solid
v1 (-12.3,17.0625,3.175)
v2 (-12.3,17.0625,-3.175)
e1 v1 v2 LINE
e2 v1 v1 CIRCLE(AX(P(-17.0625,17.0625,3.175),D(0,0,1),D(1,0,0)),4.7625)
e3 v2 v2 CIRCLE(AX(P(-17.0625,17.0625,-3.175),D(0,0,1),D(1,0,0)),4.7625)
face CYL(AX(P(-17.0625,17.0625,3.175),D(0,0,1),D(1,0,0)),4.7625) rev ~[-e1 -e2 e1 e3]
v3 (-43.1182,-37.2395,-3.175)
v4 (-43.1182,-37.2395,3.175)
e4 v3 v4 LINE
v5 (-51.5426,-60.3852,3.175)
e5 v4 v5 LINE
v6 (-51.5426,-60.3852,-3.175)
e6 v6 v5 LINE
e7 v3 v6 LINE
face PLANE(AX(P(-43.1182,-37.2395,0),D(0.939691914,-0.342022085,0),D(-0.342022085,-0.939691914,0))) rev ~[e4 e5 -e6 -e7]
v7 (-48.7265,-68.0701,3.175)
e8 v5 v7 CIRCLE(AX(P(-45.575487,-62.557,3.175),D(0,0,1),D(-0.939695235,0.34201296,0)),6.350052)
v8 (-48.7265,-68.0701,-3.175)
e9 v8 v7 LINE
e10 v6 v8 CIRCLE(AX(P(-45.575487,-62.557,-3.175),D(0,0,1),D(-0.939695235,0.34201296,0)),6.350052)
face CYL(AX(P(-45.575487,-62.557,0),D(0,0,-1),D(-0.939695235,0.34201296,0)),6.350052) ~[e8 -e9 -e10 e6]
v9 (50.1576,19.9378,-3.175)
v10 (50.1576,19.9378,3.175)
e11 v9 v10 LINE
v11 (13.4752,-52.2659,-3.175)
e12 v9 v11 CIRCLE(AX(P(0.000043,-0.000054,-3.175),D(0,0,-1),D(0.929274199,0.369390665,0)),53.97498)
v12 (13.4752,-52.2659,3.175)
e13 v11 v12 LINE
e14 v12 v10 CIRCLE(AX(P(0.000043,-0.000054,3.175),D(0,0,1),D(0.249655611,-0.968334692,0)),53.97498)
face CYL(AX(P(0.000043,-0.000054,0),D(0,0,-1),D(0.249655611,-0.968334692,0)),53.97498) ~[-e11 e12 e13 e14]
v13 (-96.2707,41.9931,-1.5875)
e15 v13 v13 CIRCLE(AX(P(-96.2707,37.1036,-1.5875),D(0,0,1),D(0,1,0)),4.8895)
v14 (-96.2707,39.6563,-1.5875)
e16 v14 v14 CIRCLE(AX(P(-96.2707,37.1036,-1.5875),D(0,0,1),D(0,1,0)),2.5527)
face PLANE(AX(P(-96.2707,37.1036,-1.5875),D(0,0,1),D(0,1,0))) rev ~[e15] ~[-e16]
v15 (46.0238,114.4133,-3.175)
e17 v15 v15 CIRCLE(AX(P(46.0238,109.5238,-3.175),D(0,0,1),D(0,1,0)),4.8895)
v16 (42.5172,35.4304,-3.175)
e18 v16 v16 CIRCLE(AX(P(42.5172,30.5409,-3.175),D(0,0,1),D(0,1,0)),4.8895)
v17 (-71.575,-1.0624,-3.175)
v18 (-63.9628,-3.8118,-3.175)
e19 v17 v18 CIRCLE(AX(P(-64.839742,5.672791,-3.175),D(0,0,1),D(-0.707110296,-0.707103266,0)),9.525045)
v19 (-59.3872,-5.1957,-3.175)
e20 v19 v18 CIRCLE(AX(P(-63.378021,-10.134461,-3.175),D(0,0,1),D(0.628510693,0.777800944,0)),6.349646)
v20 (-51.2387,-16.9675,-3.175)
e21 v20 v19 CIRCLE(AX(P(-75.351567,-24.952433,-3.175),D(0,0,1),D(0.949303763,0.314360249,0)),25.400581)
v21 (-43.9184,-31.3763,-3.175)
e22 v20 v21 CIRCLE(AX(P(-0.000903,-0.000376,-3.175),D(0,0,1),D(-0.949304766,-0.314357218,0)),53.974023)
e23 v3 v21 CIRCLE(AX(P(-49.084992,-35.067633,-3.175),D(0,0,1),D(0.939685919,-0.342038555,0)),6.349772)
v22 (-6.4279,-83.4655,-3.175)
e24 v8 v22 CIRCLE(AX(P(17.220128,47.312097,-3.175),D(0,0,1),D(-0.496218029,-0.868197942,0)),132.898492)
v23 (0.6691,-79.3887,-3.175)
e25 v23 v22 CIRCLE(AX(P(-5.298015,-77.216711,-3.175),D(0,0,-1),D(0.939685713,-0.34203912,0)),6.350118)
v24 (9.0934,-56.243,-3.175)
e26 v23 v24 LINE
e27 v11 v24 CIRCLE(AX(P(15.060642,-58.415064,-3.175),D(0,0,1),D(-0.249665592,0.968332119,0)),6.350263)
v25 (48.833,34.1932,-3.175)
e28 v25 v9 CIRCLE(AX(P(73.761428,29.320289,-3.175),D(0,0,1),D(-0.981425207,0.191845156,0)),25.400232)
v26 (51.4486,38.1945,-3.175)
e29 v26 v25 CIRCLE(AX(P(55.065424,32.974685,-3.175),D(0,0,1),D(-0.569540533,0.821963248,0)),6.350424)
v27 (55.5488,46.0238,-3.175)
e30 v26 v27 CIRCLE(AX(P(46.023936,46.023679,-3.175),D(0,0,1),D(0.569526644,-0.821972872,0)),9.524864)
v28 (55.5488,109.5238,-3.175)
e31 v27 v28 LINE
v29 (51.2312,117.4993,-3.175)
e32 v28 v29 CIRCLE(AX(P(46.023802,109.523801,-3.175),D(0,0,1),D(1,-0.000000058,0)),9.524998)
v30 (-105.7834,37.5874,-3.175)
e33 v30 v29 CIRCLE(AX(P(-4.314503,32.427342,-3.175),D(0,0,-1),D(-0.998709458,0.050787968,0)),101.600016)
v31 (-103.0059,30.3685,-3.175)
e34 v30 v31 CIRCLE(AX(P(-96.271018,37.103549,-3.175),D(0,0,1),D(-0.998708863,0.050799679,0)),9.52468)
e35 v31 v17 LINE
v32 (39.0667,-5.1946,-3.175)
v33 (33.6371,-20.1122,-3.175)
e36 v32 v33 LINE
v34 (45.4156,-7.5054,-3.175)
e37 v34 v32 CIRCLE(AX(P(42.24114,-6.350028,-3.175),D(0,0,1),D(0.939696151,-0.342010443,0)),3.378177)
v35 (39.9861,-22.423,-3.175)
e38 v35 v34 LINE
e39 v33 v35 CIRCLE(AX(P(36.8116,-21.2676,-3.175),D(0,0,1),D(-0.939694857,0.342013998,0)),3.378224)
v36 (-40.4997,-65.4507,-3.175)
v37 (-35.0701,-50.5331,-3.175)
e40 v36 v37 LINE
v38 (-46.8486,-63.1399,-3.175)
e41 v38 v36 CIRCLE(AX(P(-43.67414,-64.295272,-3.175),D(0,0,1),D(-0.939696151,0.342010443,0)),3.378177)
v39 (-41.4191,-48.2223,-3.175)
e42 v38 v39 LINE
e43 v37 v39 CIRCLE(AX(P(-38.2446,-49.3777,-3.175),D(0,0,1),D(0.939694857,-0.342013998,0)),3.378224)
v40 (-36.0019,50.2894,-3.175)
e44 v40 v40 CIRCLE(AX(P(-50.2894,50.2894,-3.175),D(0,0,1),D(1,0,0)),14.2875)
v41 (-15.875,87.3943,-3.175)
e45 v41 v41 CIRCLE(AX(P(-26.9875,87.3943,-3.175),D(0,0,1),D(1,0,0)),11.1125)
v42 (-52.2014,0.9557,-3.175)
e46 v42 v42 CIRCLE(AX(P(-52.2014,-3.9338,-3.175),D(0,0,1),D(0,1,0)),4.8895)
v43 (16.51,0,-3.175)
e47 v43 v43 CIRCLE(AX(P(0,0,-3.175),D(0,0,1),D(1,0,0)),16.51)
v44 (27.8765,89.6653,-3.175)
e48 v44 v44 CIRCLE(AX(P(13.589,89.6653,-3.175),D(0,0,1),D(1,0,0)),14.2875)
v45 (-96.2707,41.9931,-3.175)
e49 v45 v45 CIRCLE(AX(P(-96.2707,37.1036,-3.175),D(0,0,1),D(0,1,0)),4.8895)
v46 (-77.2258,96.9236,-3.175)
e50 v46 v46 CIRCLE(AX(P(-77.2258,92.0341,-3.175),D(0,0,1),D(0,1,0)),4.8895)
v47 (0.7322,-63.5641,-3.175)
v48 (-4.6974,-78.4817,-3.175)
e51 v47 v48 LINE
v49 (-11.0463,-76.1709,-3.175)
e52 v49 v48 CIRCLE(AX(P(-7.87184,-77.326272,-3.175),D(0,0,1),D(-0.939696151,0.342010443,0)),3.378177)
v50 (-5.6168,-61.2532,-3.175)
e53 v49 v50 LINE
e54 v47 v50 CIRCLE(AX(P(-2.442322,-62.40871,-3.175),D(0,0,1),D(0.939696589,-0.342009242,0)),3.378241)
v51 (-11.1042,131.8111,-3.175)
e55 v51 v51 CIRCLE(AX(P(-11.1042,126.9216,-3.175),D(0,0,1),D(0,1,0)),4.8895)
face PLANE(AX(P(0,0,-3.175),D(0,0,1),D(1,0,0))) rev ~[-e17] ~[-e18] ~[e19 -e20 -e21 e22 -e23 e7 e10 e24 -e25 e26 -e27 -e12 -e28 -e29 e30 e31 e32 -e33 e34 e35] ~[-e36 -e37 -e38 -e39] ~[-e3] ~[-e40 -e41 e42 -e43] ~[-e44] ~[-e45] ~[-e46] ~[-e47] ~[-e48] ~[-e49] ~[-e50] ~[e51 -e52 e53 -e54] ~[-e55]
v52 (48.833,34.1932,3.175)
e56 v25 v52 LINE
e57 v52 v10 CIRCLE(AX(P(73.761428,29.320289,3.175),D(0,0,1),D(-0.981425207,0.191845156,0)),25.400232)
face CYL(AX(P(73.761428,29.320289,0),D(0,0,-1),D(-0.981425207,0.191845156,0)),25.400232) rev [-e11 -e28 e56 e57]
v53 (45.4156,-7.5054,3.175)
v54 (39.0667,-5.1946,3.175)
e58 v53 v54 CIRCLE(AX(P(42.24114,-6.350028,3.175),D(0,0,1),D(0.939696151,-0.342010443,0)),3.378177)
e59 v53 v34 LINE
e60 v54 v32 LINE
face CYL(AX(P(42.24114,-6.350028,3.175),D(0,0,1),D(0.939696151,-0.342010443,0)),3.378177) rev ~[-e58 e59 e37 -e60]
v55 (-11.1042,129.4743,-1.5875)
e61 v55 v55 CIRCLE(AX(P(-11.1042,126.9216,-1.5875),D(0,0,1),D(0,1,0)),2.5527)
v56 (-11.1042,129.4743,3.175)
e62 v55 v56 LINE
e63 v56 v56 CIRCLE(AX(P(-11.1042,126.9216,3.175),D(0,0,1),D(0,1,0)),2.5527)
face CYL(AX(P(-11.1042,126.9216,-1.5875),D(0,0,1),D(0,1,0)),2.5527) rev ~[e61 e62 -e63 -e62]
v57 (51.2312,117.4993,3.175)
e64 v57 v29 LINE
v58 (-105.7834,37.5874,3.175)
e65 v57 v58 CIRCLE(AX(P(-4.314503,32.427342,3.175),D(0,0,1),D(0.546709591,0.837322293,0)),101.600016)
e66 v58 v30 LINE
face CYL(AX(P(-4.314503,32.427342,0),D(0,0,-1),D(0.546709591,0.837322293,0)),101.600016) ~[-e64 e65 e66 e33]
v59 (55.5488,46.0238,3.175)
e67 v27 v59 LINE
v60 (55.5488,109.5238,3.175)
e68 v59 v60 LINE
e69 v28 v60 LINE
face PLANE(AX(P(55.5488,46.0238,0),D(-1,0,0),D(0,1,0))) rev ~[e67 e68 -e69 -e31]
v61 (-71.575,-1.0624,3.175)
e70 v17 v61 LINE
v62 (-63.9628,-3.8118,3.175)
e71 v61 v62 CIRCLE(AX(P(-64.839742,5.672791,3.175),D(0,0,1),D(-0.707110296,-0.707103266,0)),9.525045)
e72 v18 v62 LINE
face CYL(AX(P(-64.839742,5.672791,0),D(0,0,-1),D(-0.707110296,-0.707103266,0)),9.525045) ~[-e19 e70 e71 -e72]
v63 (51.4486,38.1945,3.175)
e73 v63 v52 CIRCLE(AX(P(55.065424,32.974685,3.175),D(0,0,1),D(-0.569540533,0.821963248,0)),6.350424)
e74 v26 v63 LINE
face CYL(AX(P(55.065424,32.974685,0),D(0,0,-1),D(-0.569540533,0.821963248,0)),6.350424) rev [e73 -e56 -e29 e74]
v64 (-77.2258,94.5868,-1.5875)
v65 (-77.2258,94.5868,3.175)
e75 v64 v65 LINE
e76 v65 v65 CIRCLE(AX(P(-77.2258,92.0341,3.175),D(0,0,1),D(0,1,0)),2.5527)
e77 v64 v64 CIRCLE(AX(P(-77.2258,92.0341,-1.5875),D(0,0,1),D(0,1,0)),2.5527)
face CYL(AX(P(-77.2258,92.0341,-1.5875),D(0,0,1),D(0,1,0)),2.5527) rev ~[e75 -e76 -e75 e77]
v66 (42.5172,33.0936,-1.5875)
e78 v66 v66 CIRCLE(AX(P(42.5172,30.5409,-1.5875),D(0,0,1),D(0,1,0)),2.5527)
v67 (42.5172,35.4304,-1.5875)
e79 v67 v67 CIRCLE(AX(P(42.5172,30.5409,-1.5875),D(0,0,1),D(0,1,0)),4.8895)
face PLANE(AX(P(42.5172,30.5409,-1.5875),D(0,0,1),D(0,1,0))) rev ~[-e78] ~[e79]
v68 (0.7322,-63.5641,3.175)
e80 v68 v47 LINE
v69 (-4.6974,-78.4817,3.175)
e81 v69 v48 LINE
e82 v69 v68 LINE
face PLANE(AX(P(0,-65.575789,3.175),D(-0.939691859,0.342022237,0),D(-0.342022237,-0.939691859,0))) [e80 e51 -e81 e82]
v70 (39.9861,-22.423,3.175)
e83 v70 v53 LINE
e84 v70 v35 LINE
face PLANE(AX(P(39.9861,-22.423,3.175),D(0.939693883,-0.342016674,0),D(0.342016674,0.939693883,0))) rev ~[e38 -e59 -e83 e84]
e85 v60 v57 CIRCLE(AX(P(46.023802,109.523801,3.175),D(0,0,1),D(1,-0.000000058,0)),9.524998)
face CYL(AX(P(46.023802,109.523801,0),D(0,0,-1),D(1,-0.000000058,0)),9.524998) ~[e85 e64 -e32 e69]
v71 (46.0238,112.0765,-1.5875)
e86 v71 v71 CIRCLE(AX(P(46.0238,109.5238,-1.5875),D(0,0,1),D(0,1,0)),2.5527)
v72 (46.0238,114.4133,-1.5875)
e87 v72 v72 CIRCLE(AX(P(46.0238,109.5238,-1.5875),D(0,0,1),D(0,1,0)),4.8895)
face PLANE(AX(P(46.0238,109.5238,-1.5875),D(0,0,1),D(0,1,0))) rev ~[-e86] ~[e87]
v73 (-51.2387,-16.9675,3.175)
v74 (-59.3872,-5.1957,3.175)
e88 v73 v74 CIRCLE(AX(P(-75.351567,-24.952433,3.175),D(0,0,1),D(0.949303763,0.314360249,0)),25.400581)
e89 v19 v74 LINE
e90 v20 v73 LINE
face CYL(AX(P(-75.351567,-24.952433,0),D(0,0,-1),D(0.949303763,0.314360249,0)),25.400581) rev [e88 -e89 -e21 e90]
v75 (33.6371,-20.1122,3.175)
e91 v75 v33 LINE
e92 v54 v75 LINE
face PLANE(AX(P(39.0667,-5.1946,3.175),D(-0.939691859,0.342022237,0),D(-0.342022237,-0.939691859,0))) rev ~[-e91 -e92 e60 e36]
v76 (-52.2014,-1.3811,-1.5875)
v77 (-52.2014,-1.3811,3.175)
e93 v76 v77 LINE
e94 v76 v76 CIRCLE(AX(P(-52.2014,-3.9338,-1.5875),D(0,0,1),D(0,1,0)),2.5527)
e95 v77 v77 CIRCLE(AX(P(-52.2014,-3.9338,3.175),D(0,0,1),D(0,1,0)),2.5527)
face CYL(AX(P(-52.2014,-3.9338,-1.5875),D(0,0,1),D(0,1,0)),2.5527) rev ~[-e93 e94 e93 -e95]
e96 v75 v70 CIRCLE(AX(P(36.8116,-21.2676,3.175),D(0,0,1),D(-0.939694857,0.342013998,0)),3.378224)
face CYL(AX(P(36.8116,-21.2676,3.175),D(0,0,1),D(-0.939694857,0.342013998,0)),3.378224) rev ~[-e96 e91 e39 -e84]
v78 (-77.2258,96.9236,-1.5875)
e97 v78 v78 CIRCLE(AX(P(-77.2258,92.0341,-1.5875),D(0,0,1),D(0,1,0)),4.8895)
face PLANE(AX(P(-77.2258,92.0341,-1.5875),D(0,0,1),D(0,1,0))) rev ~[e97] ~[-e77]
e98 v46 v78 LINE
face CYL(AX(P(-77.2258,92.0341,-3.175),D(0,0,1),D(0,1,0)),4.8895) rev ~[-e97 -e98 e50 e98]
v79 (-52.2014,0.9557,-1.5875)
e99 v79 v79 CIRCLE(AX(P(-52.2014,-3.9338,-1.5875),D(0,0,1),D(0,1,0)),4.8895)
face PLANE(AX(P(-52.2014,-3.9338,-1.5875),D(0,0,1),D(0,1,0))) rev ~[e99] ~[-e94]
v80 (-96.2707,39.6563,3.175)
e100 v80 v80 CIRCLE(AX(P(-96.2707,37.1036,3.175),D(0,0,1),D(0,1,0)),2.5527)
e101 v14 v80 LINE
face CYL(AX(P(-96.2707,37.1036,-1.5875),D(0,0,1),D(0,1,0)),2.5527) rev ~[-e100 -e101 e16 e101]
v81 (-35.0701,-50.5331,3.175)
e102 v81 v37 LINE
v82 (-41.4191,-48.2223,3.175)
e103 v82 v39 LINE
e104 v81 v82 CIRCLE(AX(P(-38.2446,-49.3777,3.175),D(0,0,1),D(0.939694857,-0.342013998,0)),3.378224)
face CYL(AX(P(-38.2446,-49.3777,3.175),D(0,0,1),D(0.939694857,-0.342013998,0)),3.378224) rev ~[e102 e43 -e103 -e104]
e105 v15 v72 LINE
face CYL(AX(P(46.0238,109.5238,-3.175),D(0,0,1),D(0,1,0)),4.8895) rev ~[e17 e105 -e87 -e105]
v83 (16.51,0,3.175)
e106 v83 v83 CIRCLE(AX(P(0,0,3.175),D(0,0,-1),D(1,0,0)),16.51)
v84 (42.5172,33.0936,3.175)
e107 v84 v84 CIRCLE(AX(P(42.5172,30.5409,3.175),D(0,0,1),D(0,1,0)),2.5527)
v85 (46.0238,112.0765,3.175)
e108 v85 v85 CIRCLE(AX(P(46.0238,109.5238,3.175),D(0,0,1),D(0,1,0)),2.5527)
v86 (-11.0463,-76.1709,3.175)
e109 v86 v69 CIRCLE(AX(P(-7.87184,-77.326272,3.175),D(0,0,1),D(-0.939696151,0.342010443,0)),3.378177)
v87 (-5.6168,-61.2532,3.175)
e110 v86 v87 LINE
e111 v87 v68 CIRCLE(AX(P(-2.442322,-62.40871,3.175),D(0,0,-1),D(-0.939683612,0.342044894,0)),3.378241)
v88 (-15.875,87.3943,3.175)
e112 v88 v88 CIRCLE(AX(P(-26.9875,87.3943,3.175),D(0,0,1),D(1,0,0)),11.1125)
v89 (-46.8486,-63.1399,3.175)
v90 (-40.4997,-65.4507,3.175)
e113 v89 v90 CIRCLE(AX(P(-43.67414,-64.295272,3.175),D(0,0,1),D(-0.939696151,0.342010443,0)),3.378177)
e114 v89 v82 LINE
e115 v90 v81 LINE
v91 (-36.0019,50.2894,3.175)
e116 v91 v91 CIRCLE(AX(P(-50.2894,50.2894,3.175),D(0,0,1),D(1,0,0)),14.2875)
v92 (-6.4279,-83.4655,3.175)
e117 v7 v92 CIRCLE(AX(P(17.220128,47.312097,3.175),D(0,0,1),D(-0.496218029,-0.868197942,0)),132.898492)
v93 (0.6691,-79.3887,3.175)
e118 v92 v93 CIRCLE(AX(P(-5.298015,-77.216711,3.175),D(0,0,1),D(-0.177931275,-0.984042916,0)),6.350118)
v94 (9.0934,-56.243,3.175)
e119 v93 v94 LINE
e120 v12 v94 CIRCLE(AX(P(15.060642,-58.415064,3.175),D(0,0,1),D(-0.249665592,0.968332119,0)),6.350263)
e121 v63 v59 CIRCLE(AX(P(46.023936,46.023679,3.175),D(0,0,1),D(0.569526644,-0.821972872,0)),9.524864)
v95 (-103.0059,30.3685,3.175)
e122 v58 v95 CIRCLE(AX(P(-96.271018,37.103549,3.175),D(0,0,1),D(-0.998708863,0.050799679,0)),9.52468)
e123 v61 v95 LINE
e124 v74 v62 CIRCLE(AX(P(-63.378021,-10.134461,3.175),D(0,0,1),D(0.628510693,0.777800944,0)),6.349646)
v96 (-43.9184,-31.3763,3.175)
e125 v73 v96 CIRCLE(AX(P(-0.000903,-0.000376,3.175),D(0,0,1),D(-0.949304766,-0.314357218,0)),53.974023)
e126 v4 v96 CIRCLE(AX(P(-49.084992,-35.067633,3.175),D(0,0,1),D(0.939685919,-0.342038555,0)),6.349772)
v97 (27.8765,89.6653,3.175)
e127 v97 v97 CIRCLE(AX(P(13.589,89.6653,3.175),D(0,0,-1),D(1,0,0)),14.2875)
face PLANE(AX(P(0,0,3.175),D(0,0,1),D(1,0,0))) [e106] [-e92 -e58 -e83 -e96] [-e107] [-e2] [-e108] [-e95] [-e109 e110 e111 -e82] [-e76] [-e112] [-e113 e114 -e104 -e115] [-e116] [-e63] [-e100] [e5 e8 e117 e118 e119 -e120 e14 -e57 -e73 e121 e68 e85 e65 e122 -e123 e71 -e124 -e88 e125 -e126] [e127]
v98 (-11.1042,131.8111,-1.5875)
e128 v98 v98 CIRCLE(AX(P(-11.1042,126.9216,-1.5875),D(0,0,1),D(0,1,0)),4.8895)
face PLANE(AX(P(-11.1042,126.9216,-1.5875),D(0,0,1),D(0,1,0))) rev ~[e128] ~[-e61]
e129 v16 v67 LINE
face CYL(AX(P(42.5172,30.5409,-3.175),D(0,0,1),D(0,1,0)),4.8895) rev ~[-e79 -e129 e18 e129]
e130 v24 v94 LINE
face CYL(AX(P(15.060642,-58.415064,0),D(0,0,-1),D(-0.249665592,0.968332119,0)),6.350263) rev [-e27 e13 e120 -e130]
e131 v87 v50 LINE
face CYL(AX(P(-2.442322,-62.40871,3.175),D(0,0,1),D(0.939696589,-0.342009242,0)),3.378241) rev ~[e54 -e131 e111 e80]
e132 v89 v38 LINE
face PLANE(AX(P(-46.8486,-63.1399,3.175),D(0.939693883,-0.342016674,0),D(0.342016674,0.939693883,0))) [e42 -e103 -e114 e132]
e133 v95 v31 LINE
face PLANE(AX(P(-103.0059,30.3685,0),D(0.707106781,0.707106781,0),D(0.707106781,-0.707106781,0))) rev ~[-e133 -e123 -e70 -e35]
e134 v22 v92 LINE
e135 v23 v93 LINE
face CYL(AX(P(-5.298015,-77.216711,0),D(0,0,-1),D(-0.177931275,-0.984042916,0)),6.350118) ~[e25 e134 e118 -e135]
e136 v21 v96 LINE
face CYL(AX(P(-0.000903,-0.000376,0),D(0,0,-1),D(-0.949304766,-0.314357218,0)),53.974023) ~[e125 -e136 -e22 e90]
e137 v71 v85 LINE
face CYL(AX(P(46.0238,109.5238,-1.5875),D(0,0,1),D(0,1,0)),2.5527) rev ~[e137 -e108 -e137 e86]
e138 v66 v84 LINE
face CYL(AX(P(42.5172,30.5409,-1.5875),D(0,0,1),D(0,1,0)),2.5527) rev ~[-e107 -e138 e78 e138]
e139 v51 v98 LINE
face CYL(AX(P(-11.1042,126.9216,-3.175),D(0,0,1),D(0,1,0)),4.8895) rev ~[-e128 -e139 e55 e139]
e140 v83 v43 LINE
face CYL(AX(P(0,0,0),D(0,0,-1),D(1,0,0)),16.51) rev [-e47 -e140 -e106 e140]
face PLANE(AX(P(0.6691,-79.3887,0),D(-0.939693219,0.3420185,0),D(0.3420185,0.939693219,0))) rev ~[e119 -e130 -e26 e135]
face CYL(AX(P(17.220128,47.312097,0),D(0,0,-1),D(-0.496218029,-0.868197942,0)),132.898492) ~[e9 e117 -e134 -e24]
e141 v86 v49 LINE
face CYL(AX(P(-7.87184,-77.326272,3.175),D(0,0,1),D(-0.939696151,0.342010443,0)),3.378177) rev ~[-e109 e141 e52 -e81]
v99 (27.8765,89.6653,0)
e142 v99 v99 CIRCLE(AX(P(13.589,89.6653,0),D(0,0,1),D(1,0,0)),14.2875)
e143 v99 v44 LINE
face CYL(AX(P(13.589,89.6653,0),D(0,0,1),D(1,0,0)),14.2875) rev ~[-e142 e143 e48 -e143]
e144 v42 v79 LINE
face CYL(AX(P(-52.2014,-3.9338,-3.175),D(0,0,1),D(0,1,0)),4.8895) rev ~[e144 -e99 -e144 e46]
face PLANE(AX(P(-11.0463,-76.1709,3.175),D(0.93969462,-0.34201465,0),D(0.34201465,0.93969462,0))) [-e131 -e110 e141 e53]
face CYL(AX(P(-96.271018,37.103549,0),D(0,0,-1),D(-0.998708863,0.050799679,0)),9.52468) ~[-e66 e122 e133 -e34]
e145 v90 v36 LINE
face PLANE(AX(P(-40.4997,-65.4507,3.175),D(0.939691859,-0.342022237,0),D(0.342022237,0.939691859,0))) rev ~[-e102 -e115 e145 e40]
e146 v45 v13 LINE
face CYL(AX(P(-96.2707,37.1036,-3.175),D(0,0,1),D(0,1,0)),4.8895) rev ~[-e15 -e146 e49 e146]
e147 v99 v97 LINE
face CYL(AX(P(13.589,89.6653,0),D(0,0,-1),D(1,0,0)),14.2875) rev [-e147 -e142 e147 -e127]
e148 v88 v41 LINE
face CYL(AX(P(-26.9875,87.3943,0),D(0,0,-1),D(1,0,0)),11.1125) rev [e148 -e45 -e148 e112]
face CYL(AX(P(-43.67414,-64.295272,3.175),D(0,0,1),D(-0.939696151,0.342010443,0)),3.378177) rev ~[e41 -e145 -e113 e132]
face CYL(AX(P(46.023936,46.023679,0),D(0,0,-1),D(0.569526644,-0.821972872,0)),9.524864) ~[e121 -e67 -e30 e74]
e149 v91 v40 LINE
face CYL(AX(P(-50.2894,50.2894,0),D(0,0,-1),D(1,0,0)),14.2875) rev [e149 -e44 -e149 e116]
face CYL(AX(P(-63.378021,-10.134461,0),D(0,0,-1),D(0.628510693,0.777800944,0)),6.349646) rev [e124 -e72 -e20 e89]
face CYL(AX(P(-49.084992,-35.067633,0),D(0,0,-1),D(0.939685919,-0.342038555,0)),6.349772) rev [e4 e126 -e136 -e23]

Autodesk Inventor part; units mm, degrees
ref_plane "YZ Plane" through (0, 0, 0) normal (1, 0, 0) x (0, 1, 0)
ref_plane "XZ Plane" through (0, 0, 0) normal (0, 1, 0) x (-1, 0, 0)
ref_plane "XY Plane" through (0, 0, 0) normal (0, 0, 1) x (1, 0, 0)
sketch "Sketch1" plane through (0, 0, 0) normal (0, 0, 1) x (1, 0, 0)
  line L0 (-176.0344, 0) -> (115.3938, 0) projected
  line L1 (0, -134.9094) -> (0, 212.5709) projected
  line L2 (0, 0) -> (-134.4018, 134.4018) construction
  circle A0 centre (0, 0) radius 16.51
  circle A1 centre (-64.8398, 5.6727) radius 6.35 construction
  circle A2 centre (46.0238, 46.0238) radius 6.35 construction
  arc A3 (-51.2387, -16.9675) -> (-59.3872, -5.1957) centre (-75.3511, -24.9522) ccw
  arc A4 (48.833, 34.1932) -> (50.1576, 19.9378) centre (73.7612, 29.3203) ccw
  circle A5 centre (0, 0) radius 53.975 construction
  circle A6 centre (-50.2894, 50.2894) radius 14.2875
  circle A7 centre (-26.9875, 87.3943) radius 11.1125
  circle A8 centre (13.589, 89.6653) radius 14.2875
  arc A9 (51.2312, 117.4993) -> (-105.7834, 37.5874) centre (-4.3145, 32.4274) ccw
  line L3 (-103.0059, 30.3685) -> (-71.575, -1.0624)
  line L4 (55.5488, 46.0238) -> (55.5488, 109.5238)
  arc A10 (55.5488, 109.5238) -> (51.2312, 117.4993) centre (46.0238, 109.5238) ccw
  arc A11 (-105.7834, 37.5874) -> (-103.0059, 30.3685) centre (-96.2707, 37.1036) ccw
  arc A12 (-71.575, -1.0624) -> (-63.9628, -3.8118) centre (-64.8398, 5.6727) ccw
  arc A13 (51.4486, 38.1945) -> (55.5488, 46.0238) centre (46.0238, 46.0238) ccw
  line L5 (0, 0) -> (-64.8398, 5.6727) construction
  arc A14 (-59.3872, -5.1957) -> (-63.9628, -3.8118) centre (-63.3782, -10.1348) ccw
  arc A15 (51.4486, 38.1945) -> (48.833, 34.1932) centre (55.0651, 32.975) ccw
  line L6 (0, 0) -> (46.0238, 46.0238) construction
  line L7 (-59.3872, -5.1957) -> (0, 0) construction
  line L8 (48.833, 34.1932) -> (0, 0) construction
  line L9 (0, 0) -> (-28.2338, -77.5716) construction
  line L10 (0.6691, -79.3887) -> (9.0934, -56.243)
  line L11 (-43.1182, -37.2395) -> (-51.5426, -60.3852)
  arc A16 (-51.2387, -16.9675) -> (-43.9184, -31.3763) centre (0, 0) ccw
  arc A17 (13.4752, -52.2659) -> (50.1576, 19.9378) centre (0, 0) ccw
  arc A18 (-48.7265, -68.0701) -> (-6.4279, -83.4655) centre (17.2205, 47.3129) ccw
  arc A19 (-43.1182, -37.2395) -> (-43.9184, -31.3763) centre (-49.0853, -35.0676) ccw
  arc A20 (-51.5426, -60.3852) -> (-48.7265, -68.0701) centre (-45.5755, -62.557) ccw
  arc A21 (-6.4279, -83.4655) -> (0.6691, -79.3887) centre (-5.298, -77.2168) ccw
  arc A22 (13.4752, -52.2659) -> (9.0934, -56.243) centre (15.0605, -58.4148) ccw
  circle A23 centre (-17.0625, 17.0625) radius 4.7625 construction
  point P0 (55.5488, 114.5184)
  point P1 (-105.911, 33.2736)
  point P2 (-1.1237, -84.3143)
  point P3 (-41.9333, -33.9838)
  point P4 (-53.3354, -65.3108)
  point P5 (10.2784, -52.9873)
  dimension "d1" = 33.02
  dimension "d5" = 12.7
  dimension "d11" = 25.4
  dimension "d14" = 45
  dimension "d16" = 107.95
  dimension "d19" = 28.575
  dimension "d22" = 22.225
  dimension "d25" = 43.815
  dimension "d27" = 28.575
  dimension "d29" = 40.64
  dimension "d30" = 9.525
  dimension "d31" = 9.525
  dimension "d34" = 63.5
  dimension "d35" = 101.6
  dimension "d36" = 44.45
  dimension "d38" = 6.35
  dimension "d39" = 6.35
  dimension "d43" = 65.0875
  dimension "d44" = 130
  dimension "d45" = 5
  dimension "d46" = 35
  dimension "d57" = 20
  dimension "d58" = 27.7812
  dimension "d60" = 33.3375
  dimension "d61" = 33.3375
  dimension "d63" = 82.55
  dimension "d64" = 6.35
  dimension "d83" = 24.13
  dimension "d84" = 9.525
  dimension "d85" = 46.99
  dimension "d86" = 26.9875
  dimension "d87" = 13.589
extrude "Base" add sketch "Sketch1" along normal mid plane 6.35 contours L3 A11 A9 L1 A8 A0 L0 | L0 A0 L1 A21 A18 A20 L11 A19 A16 A3 A14 A12 L3 | L1 A8 A9 A10 L4 A13 A15 A4 A17 L0 A0 | A0 L0 A17 A22 L10 A21 L1
sketch "Sketch2" plane through (0, 0, -3.175) normal (0, 0, -1) x (-1, 0, 0)
  arc A0 (103.0059, 30.3685) -> (105.7834, 37.5874) centre (96.2707, 37.1036) ccw projected
  arc A1 (-51.2312, 117.4993) -> (-55.5488, 109.5238) centre (-46.0238, 109.5238) ccw projected
  arc A2 (-50.1576, 19.9378) -> (-13.4752, -52.2659) centre (0, 0) ccw projected
  line L0 (141.1514, 0) -> (-101.0644, 0) projected
  line L1 (0, -127.0857) -> (0, 177.5463) projected
  line L2 (0, 0) -> (11.1042, 126.9216) construction
  line L3 (0, 0) -> (77.2258, 92.0341) construction
  dimension "d88" = 5
  dimension "d89" = 40
  dimension "d90" = 127.4064
  dimension "d91" = 120.142
hole "Standoff Holes" at (46.0238, 109.5238, -3.175) at (-96.2707, 37.1036, -3.175) at (-77.2258, 92.0341, -3.175) at (-11.1042, 126.9216, -3.175) direction (0, 0, 1) diameter 5.1054 end through all counterbore diameter 9.779 counterbore depth 1.5875 clearance for "Flat Head Machine Screw (82)" size "#10" standard "Ansi Unified Screw Threads"
sketch "Sketch4" plane through (0, 0, 3.175) normal (0, 0, 1) x (1, 0, 0)
  line L0 (9.0934, -56.243) -> (0.6691, -79.3887) projected
  arc A0 (-46.8486, -63.1399) -> (-40.4997, -65.4507) centre (-43.6742, -64.2953) ccw
  arc A1 (-11.0463, -76.1709) -> (-4.6974, -78.4817) centre (-7.8719, -77.3263) ccw
  arc A2 (-35.0701, -50.5331) -> (-41.4191, -48.2223) centre (-38.2446, -49.3777) ccw
  arc A3 (0.7322, -63.5641) -> (-5.6168, -61.2532) centre (-2.4423, -62.4087) ccw
  line L1 (-40.4997, -65.4507) -> (-35.0701, -50.5331)
  line L2 (-46.8486, -63.1399) -> (-41.4191, -48.2223)
  line L3 (-11.0463, -76.1709) -> (-5.6168, -61.2532)
  line L4 (0.7322, -63.5641) -> (-4.6974, -78.4817)
  line L5 (-7.8719, -77.3263) -> (-43.6742, -64.2953) construction
  arc A4 (-48.7265, -68.0701) -> (-6.4279, -83.4655) centre (17.2205, 47.3129) ccw projected
  arc A5 (33.6371, -20.1122) -> (39.9861, -22.423) centre (36.8116, -21.2676) ccw
  arc A6 (45.4156, -7.5054) -> (39.0667, -5.1946) centre (42.2412, -6.35) ccw
  line L6 (39.9861, -22.423) -> (45.4156, -7.5054)
  line L7 (39.0667, -5.1946) -> (33.6371, -20.1122)
  line L8 (-140.2473, 0) -> (100.9137, 0) projected
  line L9 (0, -129.1287) -> (0, 177.8868) projected
  arc A7 (13.4752, -52.2659) -> (50.1576, 19.9378) centre (0, 0) ccw projected
  dimension "d66" = 6.7564
  dimension "d70" = 15.875
  dimension "d71" = 38.1
  dimension "d72" = 5.353
  dimension "d73" = 2.3813
  dimension "d74" = 15.875
  dimension "d75" = 6.7564
  dimension "d76" = 15.875
  dimension "d77" = 6.35
  dimension "d78" = 45.2437
extrude "Tensioning Slots" cut sketch "Sketch4" against normal through all
sketch "Sketch5" plane through (0, 0, 3.175) normal (0, 0, 1) x (1, 0, 0)
  circle A0 centre (0, 0) radius 16.51 projected
  circle A1 centre (-50.2894, 50.2894) radius 14.2875 projected
  arc A2 (13.4752, -52.2659) -> (50.1576, 19.9378) centre (0, 0) ccw projected
  line L0 (-71.575, -1.0624) -> (-103.0059, 30.3685) projected
  line L1 (0, 0) -> (-50.2894, 50.2894) construction
  circle A3 centre (-17.0625, 17.0625) radius 4.7625
  line L2 (-140.2473, 0) -> (100.9137, 0) projected
  line L3 (0, -127.0857) -> (0, 177.5463) projected
  dimension "d79" = 9.525
  dimension "d80" = 24.13
extrude "Idler Bearing Hole" cut sketch "Sketch5" against normal through all contours A3
sketch "Sketch6" plane through (0, 0, -3.175) normal (0, 0, -1) x (-1, 0, 0)
  arc A0 (63.9628, -3.8118) -> (71.575, -1.0624) centre (64.8398, 5.6727) ccw projected
  arc A1 (-55.5488, 46.0238) -> (-51.4486, 38.1945) centre (-46.0238, 46.0238) ccw projected
  line L0 (140.2473, 0) -> (-100.9137, 0) projected
  line L1 (0, -127.0857) -> (0, 177.5463) projected
  circle A2 centre (-42.5172, 30.5409) radius 6.35 construction
  circle A3 centre (52.2014, -3.9338) radius 6.35 construction
  arc A4 (-50.1576, 19.9378) -> (-13.4752, -52.2659) centre (0, 0) ccw projected
  line L2 (0, 0) -> (-42.5172, 30.5409) construction
  line L3 (0, 0) -> (52.2014, -3.9338) construction
  dimension "d92" = 12.7
  dimension "d93" = 15.875
  dimension "d94" = 15.875
  dimension "d102" = 52.3494
  dimension "d103" = 52.3494
hole "Standoff holes to motor plate" at (42.5172, 30.5409, -3.175) at (-52.2014, -3.9338, -3.175) direction (0, 0, 1) diameter 5.1054 end through all counterbore diameter 9.779 counterbore depth 1.5875 clearance for "Flat Head Machine Screw (82)" size "#10" standard "Ansi Unified Screw Threads"
properties part number "front plate"
